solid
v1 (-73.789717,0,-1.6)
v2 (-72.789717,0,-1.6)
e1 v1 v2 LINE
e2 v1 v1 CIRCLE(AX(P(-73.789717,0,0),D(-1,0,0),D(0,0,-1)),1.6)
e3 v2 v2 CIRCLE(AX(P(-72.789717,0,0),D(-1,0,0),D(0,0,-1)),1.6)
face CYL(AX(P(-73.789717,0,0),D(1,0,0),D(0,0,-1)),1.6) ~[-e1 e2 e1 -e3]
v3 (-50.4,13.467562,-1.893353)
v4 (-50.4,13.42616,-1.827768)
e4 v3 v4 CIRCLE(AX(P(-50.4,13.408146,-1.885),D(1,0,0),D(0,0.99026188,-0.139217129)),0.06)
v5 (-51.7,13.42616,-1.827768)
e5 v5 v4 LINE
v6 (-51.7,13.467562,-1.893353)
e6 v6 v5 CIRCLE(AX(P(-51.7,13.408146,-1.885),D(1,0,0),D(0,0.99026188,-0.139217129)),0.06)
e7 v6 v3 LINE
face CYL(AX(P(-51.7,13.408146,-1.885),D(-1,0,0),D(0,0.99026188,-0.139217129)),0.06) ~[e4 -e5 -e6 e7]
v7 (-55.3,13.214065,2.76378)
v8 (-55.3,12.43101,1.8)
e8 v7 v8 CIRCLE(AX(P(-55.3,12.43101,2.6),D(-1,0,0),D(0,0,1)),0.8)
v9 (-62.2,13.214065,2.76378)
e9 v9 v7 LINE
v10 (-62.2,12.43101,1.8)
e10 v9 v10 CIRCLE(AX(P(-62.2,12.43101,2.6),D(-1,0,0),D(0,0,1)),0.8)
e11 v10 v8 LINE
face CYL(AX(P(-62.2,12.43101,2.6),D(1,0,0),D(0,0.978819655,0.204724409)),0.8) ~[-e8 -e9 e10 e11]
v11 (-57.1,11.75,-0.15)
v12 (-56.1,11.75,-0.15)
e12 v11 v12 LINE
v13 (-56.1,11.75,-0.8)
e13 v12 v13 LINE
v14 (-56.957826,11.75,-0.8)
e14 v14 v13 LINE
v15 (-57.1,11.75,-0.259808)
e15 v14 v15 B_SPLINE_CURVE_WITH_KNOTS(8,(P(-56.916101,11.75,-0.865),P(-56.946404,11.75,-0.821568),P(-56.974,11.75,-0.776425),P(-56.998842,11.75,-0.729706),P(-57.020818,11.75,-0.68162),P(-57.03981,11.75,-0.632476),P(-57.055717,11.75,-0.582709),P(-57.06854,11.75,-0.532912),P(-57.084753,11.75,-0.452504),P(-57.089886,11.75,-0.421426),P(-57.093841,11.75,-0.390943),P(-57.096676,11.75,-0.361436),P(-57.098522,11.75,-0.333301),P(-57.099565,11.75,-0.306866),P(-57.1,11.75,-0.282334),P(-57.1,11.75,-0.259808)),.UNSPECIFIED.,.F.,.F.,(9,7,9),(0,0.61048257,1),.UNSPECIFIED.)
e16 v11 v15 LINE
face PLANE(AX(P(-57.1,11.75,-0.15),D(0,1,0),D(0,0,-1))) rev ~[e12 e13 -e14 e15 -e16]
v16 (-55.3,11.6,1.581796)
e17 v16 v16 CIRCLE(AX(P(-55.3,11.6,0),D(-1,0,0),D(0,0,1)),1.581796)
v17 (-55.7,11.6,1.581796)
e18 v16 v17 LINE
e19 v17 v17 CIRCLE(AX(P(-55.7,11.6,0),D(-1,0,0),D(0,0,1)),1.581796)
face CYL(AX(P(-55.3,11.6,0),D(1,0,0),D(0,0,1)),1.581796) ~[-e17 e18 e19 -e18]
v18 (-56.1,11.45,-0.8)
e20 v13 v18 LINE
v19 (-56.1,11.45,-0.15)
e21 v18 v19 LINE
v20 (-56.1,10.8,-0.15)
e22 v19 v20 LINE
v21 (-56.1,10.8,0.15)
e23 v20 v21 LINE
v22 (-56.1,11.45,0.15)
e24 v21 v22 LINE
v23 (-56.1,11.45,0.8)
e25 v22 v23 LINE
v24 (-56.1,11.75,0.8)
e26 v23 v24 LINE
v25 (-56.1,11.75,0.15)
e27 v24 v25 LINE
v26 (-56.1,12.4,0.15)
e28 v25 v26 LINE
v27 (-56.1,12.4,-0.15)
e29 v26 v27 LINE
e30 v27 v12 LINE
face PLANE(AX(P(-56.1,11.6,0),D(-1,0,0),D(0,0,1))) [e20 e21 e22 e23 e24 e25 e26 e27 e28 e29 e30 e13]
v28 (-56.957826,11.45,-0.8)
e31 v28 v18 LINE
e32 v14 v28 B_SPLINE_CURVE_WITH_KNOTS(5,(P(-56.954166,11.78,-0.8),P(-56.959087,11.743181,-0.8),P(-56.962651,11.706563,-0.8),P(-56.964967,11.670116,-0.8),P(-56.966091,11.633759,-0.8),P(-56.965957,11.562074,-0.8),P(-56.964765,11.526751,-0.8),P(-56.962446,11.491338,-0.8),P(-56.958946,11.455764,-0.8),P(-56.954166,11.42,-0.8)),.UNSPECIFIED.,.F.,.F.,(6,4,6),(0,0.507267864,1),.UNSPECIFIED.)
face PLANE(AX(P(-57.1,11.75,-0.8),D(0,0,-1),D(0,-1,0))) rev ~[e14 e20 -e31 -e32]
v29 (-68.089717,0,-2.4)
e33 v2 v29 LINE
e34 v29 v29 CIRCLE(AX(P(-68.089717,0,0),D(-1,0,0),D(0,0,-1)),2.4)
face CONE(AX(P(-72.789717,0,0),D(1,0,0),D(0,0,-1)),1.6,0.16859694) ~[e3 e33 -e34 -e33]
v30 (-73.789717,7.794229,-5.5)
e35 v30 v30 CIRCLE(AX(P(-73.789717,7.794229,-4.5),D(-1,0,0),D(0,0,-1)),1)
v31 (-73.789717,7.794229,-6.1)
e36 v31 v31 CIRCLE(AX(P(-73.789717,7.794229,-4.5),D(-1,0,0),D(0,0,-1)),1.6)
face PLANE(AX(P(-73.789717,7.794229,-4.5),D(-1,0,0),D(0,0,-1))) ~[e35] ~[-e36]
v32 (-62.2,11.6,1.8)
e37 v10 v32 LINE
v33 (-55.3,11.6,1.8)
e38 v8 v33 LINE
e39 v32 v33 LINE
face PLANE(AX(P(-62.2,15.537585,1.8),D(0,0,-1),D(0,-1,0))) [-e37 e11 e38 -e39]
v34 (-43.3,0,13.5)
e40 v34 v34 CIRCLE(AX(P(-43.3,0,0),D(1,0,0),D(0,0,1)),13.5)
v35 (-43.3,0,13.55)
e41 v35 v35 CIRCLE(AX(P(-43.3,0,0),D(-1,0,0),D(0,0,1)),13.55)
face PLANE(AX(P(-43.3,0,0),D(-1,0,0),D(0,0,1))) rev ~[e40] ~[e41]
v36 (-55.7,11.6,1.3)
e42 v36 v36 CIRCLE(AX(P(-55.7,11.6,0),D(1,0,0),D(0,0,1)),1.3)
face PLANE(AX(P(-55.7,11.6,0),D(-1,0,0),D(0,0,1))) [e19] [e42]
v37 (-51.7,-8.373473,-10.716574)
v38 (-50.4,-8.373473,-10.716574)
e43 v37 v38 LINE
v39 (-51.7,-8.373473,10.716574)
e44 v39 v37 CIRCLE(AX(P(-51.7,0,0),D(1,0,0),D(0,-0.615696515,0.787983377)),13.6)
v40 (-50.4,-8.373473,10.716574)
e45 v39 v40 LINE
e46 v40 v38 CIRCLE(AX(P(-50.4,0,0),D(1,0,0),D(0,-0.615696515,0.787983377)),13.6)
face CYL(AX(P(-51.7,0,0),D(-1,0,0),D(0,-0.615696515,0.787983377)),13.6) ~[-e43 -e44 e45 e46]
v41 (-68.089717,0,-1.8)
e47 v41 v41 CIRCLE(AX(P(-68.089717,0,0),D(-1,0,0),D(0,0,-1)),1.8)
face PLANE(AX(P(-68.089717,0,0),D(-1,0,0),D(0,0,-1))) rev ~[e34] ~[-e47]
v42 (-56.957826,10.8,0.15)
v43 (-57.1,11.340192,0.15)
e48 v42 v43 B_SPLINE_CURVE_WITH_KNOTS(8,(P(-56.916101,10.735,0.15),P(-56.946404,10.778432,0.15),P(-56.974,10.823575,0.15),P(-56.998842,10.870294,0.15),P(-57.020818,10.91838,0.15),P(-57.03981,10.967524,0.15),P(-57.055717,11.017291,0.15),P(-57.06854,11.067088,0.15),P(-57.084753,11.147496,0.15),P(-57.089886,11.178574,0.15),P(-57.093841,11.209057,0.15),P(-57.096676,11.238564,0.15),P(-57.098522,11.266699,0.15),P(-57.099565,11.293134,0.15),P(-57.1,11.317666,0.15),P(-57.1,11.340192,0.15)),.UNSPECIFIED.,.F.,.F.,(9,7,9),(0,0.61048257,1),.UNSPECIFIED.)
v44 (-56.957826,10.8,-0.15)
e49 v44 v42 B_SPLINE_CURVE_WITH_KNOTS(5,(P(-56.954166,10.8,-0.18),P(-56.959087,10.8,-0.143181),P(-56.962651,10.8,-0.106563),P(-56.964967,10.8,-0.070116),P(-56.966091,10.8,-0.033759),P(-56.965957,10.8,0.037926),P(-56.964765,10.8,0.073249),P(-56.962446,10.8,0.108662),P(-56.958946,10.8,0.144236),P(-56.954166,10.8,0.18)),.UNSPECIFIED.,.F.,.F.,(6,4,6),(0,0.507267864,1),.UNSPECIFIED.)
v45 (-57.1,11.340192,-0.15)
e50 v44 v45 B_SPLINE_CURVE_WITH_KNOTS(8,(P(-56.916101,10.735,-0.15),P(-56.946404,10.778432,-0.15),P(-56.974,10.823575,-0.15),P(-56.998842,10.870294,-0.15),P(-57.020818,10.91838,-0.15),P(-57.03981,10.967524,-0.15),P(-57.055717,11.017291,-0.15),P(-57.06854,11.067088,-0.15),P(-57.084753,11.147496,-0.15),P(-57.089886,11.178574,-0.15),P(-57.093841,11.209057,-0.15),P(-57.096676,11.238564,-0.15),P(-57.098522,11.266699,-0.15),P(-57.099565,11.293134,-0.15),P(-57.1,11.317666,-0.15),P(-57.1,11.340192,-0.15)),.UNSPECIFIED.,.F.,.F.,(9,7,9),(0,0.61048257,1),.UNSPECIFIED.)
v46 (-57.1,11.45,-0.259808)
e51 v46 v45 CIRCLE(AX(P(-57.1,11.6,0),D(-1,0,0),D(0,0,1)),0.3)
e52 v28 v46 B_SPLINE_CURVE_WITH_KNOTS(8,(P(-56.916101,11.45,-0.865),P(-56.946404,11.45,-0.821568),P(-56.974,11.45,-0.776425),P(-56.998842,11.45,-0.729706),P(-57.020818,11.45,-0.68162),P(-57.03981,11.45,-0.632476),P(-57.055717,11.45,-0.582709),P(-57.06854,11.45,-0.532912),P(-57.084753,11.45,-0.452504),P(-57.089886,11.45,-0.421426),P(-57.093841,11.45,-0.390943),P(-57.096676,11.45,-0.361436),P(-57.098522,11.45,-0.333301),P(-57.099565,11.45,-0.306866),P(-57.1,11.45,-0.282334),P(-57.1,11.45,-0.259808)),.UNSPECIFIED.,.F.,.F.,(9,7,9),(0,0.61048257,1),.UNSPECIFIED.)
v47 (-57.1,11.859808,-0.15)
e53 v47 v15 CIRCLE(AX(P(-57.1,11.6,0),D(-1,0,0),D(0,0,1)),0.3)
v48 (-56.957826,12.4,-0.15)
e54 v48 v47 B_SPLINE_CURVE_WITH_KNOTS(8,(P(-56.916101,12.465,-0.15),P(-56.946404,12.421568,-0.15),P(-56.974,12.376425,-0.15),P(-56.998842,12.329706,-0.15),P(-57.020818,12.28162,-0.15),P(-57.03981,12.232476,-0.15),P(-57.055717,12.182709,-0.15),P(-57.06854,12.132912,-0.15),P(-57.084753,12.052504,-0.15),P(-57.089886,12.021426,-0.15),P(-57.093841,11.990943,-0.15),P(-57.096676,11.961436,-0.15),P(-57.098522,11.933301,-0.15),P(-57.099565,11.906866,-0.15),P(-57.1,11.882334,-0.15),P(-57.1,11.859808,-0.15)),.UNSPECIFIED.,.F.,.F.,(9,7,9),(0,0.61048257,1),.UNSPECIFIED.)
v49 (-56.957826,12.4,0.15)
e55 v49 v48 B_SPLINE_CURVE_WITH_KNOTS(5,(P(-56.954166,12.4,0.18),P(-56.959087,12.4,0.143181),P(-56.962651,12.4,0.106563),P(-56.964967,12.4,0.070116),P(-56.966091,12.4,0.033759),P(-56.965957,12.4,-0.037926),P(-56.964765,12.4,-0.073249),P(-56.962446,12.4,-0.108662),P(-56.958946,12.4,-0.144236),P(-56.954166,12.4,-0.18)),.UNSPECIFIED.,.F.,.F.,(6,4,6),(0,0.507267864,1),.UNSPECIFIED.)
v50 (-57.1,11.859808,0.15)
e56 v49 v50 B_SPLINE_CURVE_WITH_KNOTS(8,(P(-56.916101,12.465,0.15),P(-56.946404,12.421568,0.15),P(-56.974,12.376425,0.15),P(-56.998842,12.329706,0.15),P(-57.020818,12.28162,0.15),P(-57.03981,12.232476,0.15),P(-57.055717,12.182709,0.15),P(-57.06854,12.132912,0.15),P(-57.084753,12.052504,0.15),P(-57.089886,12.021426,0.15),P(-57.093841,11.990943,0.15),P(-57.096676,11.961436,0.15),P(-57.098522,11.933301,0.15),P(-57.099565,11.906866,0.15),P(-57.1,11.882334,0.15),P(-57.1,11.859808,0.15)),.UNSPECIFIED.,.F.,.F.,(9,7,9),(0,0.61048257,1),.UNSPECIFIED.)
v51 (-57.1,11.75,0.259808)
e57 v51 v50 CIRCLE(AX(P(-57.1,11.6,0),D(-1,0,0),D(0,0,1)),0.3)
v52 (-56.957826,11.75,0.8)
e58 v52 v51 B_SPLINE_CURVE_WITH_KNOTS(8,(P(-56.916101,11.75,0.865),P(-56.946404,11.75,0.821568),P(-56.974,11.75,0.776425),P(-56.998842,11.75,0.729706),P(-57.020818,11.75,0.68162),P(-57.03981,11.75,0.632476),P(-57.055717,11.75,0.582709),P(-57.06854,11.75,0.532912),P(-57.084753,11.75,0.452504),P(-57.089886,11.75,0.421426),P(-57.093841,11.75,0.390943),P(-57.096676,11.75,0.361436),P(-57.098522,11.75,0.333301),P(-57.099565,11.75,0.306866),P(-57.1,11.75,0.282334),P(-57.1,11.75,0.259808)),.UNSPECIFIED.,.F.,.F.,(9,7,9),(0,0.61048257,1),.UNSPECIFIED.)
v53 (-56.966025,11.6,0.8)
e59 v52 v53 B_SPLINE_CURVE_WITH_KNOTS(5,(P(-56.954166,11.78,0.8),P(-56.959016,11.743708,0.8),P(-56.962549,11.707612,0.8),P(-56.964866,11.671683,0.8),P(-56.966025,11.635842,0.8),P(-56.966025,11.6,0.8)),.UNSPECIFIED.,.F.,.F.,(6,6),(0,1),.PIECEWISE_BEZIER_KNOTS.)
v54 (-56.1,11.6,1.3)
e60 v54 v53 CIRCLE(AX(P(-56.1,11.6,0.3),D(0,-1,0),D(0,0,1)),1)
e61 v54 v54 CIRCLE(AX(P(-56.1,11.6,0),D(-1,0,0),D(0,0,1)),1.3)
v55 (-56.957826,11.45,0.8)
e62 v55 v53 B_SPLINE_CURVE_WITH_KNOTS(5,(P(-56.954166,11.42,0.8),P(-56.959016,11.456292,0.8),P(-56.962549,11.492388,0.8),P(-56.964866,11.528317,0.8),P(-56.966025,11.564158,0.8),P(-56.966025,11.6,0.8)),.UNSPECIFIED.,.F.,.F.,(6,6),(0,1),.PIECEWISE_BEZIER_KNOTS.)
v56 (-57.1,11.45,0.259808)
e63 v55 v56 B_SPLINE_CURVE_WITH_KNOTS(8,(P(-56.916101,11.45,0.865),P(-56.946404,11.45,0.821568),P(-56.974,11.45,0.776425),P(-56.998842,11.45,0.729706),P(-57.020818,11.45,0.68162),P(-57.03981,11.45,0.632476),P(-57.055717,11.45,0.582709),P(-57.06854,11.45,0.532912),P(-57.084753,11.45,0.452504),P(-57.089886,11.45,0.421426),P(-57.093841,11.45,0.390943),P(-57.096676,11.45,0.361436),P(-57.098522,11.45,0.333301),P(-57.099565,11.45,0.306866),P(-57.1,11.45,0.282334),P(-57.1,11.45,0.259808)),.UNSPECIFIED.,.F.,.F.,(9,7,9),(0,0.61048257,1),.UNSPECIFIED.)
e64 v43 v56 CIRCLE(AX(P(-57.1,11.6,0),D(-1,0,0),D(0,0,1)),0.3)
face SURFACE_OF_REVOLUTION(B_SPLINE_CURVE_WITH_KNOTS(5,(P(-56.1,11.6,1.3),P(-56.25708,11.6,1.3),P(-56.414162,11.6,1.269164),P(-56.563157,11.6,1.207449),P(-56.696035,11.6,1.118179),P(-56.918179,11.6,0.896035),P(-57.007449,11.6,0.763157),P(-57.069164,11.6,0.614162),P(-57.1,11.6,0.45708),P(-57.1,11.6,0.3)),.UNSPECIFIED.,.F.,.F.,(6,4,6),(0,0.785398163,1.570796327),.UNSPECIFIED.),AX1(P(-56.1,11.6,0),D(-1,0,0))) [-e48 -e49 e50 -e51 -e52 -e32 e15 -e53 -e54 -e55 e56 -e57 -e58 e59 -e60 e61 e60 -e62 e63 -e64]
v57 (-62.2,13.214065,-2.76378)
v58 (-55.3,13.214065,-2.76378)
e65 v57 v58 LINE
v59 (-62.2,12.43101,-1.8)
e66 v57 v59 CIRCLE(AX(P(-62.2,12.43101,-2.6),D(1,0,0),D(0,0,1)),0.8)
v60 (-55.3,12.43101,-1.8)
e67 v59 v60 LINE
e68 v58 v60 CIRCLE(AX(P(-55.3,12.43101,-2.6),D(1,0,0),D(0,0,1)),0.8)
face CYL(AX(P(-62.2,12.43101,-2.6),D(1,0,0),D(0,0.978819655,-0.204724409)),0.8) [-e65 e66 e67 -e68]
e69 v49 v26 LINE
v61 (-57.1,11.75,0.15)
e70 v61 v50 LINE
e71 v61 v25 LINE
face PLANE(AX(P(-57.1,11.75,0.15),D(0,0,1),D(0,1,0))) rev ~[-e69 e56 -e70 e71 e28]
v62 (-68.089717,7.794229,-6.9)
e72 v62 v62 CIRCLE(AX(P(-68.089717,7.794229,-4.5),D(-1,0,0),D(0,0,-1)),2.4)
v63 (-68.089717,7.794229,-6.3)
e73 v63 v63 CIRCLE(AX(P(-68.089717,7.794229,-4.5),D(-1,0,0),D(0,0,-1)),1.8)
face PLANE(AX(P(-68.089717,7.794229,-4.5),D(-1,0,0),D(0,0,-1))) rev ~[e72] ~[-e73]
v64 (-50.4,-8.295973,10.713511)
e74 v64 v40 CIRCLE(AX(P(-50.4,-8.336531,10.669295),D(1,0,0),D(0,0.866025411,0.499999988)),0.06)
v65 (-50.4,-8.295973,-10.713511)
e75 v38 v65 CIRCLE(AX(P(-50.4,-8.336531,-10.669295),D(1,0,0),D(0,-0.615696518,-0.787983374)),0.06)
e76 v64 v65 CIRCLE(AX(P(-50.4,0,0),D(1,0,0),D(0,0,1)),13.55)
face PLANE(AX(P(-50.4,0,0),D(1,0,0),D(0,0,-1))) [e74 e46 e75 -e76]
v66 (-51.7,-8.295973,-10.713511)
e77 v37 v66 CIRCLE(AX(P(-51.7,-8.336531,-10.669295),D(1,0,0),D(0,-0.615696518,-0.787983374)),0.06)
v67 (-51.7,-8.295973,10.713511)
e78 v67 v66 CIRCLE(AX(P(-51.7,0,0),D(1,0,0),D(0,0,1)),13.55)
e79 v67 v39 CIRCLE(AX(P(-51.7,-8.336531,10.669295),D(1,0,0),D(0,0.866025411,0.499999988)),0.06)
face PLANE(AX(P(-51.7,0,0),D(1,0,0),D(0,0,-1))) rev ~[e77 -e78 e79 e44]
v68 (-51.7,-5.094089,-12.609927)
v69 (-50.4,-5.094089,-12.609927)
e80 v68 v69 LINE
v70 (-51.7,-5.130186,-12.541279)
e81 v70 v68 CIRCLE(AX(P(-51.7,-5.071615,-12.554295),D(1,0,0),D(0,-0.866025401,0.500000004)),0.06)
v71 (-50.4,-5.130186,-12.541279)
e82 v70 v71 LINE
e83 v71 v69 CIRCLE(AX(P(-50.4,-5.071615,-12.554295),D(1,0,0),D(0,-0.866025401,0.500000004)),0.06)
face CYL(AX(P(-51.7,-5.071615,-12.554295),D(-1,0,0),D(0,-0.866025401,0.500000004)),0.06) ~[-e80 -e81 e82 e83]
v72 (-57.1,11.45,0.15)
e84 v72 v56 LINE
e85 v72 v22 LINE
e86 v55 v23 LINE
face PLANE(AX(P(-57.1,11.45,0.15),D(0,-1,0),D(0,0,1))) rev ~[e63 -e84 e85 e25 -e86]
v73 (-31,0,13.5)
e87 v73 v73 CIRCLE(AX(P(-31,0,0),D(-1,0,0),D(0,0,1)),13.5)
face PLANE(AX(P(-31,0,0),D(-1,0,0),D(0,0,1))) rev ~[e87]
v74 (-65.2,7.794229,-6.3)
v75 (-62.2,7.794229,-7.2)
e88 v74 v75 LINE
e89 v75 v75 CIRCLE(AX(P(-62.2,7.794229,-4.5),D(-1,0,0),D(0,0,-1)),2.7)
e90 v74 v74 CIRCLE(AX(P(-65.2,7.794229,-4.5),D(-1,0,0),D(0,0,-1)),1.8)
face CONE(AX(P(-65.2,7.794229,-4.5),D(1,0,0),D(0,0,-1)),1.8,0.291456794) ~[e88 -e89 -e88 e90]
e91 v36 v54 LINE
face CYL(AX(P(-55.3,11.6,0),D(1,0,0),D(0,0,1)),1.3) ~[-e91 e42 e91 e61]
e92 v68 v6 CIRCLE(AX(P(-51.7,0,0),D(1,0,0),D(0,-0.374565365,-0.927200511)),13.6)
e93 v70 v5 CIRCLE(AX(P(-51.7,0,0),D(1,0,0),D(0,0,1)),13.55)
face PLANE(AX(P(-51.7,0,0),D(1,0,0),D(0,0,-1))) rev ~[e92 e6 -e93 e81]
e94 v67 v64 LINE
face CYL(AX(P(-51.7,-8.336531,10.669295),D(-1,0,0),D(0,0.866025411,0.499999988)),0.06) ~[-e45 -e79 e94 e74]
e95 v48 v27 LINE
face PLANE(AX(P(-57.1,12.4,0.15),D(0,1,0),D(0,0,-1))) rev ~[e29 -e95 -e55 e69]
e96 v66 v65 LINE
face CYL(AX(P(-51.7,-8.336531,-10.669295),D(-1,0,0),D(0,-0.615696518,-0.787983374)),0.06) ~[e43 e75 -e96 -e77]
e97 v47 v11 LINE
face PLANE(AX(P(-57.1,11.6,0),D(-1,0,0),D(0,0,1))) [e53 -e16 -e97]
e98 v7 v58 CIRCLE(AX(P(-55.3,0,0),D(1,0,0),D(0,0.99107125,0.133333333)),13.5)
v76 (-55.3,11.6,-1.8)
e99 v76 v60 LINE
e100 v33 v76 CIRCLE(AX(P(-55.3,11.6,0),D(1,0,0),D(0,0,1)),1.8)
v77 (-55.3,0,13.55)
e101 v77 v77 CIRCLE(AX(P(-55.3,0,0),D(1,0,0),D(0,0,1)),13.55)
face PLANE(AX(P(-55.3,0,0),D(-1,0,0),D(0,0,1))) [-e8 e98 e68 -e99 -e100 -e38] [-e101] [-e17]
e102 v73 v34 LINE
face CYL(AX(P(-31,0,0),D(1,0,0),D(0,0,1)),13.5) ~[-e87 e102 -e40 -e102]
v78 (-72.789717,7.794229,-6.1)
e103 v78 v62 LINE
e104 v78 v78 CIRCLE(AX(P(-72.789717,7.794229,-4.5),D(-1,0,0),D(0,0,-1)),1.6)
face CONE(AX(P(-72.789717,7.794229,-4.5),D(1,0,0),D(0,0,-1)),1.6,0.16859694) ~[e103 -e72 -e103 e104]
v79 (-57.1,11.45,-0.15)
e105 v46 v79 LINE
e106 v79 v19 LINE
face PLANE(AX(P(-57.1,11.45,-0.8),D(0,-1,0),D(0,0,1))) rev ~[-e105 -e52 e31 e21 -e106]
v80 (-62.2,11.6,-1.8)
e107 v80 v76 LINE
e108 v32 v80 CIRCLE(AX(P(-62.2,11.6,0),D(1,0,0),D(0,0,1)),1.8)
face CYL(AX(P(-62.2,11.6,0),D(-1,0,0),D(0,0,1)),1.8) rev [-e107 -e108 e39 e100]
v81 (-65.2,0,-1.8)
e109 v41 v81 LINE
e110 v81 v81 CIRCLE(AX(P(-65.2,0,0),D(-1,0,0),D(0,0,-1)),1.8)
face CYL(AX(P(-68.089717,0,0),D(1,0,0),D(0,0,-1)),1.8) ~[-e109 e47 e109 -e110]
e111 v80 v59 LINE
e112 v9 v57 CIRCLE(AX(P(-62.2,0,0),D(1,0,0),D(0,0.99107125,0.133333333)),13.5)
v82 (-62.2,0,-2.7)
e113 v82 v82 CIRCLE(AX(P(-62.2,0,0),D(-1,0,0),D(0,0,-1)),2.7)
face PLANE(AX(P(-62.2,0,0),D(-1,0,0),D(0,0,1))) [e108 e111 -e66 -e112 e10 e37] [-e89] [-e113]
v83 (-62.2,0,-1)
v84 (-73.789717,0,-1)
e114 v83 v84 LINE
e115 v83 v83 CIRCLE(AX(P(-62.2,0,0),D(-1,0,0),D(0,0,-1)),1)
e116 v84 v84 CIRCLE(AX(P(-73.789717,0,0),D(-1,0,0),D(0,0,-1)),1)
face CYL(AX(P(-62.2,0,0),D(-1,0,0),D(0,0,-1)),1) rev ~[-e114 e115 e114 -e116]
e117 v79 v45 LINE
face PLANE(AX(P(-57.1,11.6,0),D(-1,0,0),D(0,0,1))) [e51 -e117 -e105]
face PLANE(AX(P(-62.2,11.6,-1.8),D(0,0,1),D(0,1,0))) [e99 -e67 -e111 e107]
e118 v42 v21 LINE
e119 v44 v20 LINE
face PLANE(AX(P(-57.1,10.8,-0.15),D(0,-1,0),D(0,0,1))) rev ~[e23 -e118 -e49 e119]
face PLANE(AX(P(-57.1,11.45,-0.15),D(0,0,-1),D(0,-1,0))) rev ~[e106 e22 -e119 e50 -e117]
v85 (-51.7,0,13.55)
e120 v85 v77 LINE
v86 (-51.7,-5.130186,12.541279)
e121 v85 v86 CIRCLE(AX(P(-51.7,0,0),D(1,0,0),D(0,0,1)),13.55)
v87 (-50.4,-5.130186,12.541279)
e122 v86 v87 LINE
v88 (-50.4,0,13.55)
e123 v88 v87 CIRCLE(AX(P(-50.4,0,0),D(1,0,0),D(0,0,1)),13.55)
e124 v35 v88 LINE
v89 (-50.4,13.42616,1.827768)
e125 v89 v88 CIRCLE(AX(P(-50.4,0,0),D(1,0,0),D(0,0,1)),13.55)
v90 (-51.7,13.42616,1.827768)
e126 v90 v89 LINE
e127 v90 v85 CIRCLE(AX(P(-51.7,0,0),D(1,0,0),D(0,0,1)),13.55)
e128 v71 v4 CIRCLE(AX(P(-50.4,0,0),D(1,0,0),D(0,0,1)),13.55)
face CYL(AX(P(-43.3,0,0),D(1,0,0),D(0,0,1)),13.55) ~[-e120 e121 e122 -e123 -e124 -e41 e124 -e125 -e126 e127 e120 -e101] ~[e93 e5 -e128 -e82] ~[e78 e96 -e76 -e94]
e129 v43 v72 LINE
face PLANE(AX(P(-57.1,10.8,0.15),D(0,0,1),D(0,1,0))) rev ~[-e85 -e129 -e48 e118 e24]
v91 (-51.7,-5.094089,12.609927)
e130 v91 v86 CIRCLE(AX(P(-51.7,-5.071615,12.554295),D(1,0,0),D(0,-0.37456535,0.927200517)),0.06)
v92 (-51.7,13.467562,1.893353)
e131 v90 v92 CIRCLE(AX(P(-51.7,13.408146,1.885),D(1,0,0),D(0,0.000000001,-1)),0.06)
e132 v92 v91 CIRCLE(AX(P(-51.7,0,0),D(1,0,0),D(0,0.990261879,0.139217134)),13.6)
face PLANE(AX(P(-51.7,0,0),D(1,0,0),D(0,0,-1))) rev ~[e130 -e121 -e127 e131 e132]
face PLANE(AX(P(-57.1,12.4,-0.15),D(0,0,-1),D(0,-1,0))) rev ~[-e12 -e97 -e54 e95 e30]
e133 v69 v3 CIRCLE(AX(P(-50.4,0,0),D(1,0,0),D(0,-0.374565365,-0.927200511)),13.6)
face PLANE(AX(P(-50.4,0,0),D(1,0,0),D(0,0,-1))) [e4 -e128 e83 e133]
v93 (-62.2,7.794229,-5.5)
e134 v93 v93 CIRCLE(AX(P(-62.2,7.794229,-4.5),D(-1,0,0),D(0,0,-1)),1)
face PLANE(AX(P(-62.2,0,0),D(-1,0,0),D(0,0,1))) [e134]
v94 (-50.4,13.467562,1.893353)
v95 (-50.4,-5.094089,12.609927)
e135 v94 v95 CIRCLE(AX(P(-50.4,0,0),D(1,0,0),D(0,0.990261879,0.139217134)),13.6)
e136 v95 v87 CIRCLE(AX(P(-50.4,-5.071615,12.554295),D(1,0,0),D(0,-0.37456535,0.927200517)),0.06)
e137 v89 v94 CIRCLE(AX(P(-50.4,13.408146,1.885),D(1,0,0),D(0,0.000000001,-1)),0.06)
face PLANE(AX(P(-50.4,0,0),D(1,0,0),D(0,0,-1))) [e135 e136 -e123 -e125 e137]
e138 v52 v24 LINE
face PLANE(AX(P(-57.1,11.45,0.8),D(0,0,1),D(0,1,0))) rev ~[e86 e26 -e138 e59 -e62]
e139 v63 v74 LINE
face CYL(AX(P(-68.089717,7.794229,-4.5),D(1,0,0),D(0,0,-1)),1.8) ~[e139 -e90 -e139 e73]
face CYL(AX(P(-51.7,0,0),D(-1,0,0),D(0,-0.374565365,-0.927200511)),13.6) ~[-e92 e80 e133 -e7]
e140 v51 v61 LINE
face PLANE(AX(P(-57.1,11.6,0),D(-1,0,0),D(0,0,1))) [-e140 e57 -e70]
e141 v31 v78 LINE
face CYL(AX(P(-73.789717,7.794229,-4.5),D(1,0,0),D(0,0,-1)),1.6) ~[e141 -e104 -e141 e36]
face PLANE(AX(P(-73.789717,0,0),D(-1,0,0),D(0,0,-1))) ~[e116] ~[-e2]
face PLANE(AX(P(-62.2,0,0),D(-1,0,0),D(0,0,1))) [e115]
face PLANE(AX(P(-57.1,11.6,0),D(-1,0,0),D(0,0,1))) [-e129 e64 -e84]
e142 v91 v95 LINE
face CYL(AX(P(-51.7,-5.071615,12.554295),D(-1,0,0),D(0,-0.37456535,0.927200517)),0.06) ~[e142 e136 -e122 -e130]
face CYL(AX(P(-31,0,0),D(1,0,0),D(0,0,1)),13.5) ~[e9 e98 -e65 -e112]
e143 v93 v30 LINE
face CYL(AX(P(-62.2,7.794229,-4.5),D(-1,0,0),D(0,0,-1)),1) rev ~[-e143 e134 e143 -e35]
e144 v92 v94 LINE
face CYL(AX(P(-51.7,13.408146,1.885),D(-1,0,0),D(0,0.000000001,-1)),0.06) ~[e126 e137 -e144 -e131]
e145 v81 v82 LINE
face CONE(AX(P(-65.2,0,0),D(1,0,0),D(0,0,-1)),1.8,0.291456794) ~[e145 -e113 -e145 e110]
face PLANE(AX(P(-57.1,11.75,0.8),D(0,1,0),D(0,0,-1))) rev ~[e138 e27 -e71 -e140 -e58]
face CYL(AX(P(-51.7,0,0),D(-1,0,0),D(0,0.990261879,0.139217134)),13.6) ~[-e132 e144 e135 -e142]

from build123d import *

# Parameters (mm, degrees)
PUMP_OD_SKETCH_R          = 13.5
PUMP_OD_EXTRUDE_DEPTH     = 31.2
PUMP_START                = 12.3
PUMP_MIDDLE_SKETCH_R      = 13.55
PUMP_MIDDLE_EXTRUDE_DEPTH = 12
DIAPHRAGM_START           = -3.6
DIAPHRAGM_EXTRUDE_DEPTH   = 1.3
SCREW_POCKET_CUT_DEPTH    = 6.9
SCREW_POCKET_FILLET_R     = 0.8
SCEW_HEAD_SKETCH_R        = 1.3
SCREW_HEAD_EXTRUDE_DEPTH  = 1.8
SCREW_HEAD_FILLET_R       = 1
SCREW_DRIVE_CUT_DEPTH     = 1
WASHER_SKETCH_R           = 1.581796131
WASHER_EXTRUDE_DEPTH      = 0.4
NOZZLE_LPATTERN_COUNT     = 2
NOZZLE_LPATTERN_PITCH     = 9


with BuildPart() as part:
    # Pump OD Sketch → Pump OD Extrude (new body)
    with BuildSketch(Plane.ZY.offset(31)):
        Circle(PUMP_OD_SKETCH_R)
    extrude(amount=PUMP_OD_EXTRUDE_DEPTH)

    # Pump Middle Sketch → Pump Middle Extrude (add)
    with BuildSketch(Plane.ZY.offset(31).offset(PUMP_START)):
        Circle(PUMP_MIDDLE_SKETCH_R)
    extrude(amount=PUMP_MIDDLE_EXTRUDE_DEPTH)

    # Diaphragm Sketch → Diaphragm Extrude (add)
    with BuildSketch(Plane.ZY.offset(55.3).offset(DIAPHRAGM_START)):
        with BuildLine():
            Line((-1.825, 12.291819434), (1.825, 12.291819434))
            Line((1.825, 12.291819434), (1.825, 13.408145845))
            ThreePointArc((1.825, 13.408145845), (1.845637465, 13.453429295), (1.893353028, 13.467561558))
            ThreePointArc((1.893353028, 13.467561558), (11.777945491, 6.8), (12.60992695, -5.094088958))
            ThreePointArc((12.60992695, -5.094088958), (12.57383027, -5.128345717), (12.524294919, -5.123576561))
            Line((12.524294919, -5.123576561), (11.557527888, -4.565413355))
            Line((11.557527888, -4.565413355), (9.732527888, -7.726406079))
            Line((9.732527888, -7.726406079), (10.699294919, -8.284569284))
            ThreePointArc((10.699294919, -8.284569284), (10.728192805, -8.325083578), (10.716573922, -8.373472599))
            ThreePointArc((10.716573922, -8.373472599), (0, -13.6), (-10.716573922, -8.373472599))
            ThreePointArc((-10.716573922, -8.373472599), (-10.728192805, -8.325083578), (-10.699294919, -8.284569284))
            Line((-10.699294919, -8.284569284), (-9.732527888, -7.726406079))
            Line((-9.732527888, -7.726406079), (-11.557527888, -4.565413355))
            Line((-11.557527888, -4.565413355), (-12.524294919, -5.123576561))
            ThreePointArc((-12.524294919, -5.123576561), (-12.57383027, -5.128345717), (-12.60992695, -5.094088958))
            ThreePointArc((-12.60992695, -5.094088958), (-11.777945491, 6.8), (-1.893353028, 13.467561558))
            ThreePointArc((-1.893353028, 13.467561558), (-1.845637465, 13.453429295), (-1.825, 13.408145845))
            Line((-1.825, 13.408145845), (-1.825, 12.291819434))
        make_face()
    extrude(amount=-DIAPHRAGM_EXTRUDE_DEPTH)

    # Screw Pocket Sketch → Screw Pocket Cut (cut)
    with BuildSketch(Plane.ZY.offset(62.2)):
        with BuildLine():
            Line((-1.8, 11.6), (-1.8, 15.537585437))
            Line((-1.8, 15.537585437), (1.8, 15.537585437))
            Line((1.8, 15.537585437), (1.8, 11.6))
            ThreePointArc((1.8, 11.6), (0, 9.8), (-1.8, 11.6))
        make_face()
    extrude(amount=-SCREW_POCKET_CUT_DEPTH, mode=Mode.SUBTRACT)

    # Screw Pocket Fillet
    screw_pocket_fillet_edges = [part.edges().sort_by_distance(p)[0] for p in [
        (-58.75, 13.379461873, -1.8),
        (-58.75, 13.379461873, 1.8),
    ]]
    fillet(screw_pocket_fillet_edges, radius=SCREW_POCKET_FILLET_R)

    # Scew Head Sketch → Screw Head Extrude (add)
    with BuildSketch(Plane.ZY.offset(55.3)):
        with Locations((0, 11.6)):
            Circle(SCEW_HEAD_SKETCH_R)
    extrude(amount=SCREW_HEAD_EXTRUDE_DEPTH)

    # Screw Head Fillet
    screw_head_fillet_edges = [part.edges().sort_by_distance(p)[0] for p in [
        (-57.1, 11.6, -1.3),
    ]]
    fillet(screw_head_fillet_edges, radius=SCREW_HEAD_FILLET_R)

    # Sketch10 → Screw Drive Cut (cut)
    with BuildSketch(Plane.ZY.offset(57.1)):
        Polygon((0.15, 11.75), (0.15, 12.4), (-0.15, 12.4), (-0.15, 11.75), (-0.8, 11.75), (-0.8, 11.45), (-0.15, 11.45), (-0.15, 10.8), (0.15, 10.8), (0.15, 11.45), (0.8, 11.45), (0.8, 11.75), align=None)
    extrude(amount=-SCREW_DRIVE_CUT_DEPTH, mode=Mode.SUBTRACT)

    # Washer Sketch → Washer Extrude (add)
    with BuildSketch(Plane.ZY.offset(55.3)):
        with Locations((0, 11.6)):
            Circle(WASHER_SKETCH_R)
    extrude(amount=WASHER_EXTRUDE_DEPTH)

    # Center Nozzle Sketch → Center Nozzle Revolve (revolve)
    with BuildSketch(Plane.XY, mode=Mode.PRIVATE) as center_nozzle_revolve_sk:
        Polygon((-73.789716671, 1.6), (-72.789716671, 1.6), (-68.089716671, 2.4), (-68.089716671, 1.8), (-65.2, 1.8), (-62.2, 2.7), (-62.2, 1), (-73.789716671, 1), align=None)
    center_nozzle_revolve = revolve(center_nozzle_revolve_sk.sketch.rotate(Axis((0, 0, 0), (-1, 0, 0)), 90), axis=Axis((0, 0, 0), (-1, 0, 0)))

    # Nozzle LPattern: Center Nozzle Revolve ×2
    with Locations(*[Vector(0, 0.8660254037844379, -0.5000000000000012) * (i * NOZZLE_LPATTERN_PITCH) for i in range(1, NOZZLE_LPATTERN_COUNT)]):
        add(center_nozzle_revolve)


solid = part.part
